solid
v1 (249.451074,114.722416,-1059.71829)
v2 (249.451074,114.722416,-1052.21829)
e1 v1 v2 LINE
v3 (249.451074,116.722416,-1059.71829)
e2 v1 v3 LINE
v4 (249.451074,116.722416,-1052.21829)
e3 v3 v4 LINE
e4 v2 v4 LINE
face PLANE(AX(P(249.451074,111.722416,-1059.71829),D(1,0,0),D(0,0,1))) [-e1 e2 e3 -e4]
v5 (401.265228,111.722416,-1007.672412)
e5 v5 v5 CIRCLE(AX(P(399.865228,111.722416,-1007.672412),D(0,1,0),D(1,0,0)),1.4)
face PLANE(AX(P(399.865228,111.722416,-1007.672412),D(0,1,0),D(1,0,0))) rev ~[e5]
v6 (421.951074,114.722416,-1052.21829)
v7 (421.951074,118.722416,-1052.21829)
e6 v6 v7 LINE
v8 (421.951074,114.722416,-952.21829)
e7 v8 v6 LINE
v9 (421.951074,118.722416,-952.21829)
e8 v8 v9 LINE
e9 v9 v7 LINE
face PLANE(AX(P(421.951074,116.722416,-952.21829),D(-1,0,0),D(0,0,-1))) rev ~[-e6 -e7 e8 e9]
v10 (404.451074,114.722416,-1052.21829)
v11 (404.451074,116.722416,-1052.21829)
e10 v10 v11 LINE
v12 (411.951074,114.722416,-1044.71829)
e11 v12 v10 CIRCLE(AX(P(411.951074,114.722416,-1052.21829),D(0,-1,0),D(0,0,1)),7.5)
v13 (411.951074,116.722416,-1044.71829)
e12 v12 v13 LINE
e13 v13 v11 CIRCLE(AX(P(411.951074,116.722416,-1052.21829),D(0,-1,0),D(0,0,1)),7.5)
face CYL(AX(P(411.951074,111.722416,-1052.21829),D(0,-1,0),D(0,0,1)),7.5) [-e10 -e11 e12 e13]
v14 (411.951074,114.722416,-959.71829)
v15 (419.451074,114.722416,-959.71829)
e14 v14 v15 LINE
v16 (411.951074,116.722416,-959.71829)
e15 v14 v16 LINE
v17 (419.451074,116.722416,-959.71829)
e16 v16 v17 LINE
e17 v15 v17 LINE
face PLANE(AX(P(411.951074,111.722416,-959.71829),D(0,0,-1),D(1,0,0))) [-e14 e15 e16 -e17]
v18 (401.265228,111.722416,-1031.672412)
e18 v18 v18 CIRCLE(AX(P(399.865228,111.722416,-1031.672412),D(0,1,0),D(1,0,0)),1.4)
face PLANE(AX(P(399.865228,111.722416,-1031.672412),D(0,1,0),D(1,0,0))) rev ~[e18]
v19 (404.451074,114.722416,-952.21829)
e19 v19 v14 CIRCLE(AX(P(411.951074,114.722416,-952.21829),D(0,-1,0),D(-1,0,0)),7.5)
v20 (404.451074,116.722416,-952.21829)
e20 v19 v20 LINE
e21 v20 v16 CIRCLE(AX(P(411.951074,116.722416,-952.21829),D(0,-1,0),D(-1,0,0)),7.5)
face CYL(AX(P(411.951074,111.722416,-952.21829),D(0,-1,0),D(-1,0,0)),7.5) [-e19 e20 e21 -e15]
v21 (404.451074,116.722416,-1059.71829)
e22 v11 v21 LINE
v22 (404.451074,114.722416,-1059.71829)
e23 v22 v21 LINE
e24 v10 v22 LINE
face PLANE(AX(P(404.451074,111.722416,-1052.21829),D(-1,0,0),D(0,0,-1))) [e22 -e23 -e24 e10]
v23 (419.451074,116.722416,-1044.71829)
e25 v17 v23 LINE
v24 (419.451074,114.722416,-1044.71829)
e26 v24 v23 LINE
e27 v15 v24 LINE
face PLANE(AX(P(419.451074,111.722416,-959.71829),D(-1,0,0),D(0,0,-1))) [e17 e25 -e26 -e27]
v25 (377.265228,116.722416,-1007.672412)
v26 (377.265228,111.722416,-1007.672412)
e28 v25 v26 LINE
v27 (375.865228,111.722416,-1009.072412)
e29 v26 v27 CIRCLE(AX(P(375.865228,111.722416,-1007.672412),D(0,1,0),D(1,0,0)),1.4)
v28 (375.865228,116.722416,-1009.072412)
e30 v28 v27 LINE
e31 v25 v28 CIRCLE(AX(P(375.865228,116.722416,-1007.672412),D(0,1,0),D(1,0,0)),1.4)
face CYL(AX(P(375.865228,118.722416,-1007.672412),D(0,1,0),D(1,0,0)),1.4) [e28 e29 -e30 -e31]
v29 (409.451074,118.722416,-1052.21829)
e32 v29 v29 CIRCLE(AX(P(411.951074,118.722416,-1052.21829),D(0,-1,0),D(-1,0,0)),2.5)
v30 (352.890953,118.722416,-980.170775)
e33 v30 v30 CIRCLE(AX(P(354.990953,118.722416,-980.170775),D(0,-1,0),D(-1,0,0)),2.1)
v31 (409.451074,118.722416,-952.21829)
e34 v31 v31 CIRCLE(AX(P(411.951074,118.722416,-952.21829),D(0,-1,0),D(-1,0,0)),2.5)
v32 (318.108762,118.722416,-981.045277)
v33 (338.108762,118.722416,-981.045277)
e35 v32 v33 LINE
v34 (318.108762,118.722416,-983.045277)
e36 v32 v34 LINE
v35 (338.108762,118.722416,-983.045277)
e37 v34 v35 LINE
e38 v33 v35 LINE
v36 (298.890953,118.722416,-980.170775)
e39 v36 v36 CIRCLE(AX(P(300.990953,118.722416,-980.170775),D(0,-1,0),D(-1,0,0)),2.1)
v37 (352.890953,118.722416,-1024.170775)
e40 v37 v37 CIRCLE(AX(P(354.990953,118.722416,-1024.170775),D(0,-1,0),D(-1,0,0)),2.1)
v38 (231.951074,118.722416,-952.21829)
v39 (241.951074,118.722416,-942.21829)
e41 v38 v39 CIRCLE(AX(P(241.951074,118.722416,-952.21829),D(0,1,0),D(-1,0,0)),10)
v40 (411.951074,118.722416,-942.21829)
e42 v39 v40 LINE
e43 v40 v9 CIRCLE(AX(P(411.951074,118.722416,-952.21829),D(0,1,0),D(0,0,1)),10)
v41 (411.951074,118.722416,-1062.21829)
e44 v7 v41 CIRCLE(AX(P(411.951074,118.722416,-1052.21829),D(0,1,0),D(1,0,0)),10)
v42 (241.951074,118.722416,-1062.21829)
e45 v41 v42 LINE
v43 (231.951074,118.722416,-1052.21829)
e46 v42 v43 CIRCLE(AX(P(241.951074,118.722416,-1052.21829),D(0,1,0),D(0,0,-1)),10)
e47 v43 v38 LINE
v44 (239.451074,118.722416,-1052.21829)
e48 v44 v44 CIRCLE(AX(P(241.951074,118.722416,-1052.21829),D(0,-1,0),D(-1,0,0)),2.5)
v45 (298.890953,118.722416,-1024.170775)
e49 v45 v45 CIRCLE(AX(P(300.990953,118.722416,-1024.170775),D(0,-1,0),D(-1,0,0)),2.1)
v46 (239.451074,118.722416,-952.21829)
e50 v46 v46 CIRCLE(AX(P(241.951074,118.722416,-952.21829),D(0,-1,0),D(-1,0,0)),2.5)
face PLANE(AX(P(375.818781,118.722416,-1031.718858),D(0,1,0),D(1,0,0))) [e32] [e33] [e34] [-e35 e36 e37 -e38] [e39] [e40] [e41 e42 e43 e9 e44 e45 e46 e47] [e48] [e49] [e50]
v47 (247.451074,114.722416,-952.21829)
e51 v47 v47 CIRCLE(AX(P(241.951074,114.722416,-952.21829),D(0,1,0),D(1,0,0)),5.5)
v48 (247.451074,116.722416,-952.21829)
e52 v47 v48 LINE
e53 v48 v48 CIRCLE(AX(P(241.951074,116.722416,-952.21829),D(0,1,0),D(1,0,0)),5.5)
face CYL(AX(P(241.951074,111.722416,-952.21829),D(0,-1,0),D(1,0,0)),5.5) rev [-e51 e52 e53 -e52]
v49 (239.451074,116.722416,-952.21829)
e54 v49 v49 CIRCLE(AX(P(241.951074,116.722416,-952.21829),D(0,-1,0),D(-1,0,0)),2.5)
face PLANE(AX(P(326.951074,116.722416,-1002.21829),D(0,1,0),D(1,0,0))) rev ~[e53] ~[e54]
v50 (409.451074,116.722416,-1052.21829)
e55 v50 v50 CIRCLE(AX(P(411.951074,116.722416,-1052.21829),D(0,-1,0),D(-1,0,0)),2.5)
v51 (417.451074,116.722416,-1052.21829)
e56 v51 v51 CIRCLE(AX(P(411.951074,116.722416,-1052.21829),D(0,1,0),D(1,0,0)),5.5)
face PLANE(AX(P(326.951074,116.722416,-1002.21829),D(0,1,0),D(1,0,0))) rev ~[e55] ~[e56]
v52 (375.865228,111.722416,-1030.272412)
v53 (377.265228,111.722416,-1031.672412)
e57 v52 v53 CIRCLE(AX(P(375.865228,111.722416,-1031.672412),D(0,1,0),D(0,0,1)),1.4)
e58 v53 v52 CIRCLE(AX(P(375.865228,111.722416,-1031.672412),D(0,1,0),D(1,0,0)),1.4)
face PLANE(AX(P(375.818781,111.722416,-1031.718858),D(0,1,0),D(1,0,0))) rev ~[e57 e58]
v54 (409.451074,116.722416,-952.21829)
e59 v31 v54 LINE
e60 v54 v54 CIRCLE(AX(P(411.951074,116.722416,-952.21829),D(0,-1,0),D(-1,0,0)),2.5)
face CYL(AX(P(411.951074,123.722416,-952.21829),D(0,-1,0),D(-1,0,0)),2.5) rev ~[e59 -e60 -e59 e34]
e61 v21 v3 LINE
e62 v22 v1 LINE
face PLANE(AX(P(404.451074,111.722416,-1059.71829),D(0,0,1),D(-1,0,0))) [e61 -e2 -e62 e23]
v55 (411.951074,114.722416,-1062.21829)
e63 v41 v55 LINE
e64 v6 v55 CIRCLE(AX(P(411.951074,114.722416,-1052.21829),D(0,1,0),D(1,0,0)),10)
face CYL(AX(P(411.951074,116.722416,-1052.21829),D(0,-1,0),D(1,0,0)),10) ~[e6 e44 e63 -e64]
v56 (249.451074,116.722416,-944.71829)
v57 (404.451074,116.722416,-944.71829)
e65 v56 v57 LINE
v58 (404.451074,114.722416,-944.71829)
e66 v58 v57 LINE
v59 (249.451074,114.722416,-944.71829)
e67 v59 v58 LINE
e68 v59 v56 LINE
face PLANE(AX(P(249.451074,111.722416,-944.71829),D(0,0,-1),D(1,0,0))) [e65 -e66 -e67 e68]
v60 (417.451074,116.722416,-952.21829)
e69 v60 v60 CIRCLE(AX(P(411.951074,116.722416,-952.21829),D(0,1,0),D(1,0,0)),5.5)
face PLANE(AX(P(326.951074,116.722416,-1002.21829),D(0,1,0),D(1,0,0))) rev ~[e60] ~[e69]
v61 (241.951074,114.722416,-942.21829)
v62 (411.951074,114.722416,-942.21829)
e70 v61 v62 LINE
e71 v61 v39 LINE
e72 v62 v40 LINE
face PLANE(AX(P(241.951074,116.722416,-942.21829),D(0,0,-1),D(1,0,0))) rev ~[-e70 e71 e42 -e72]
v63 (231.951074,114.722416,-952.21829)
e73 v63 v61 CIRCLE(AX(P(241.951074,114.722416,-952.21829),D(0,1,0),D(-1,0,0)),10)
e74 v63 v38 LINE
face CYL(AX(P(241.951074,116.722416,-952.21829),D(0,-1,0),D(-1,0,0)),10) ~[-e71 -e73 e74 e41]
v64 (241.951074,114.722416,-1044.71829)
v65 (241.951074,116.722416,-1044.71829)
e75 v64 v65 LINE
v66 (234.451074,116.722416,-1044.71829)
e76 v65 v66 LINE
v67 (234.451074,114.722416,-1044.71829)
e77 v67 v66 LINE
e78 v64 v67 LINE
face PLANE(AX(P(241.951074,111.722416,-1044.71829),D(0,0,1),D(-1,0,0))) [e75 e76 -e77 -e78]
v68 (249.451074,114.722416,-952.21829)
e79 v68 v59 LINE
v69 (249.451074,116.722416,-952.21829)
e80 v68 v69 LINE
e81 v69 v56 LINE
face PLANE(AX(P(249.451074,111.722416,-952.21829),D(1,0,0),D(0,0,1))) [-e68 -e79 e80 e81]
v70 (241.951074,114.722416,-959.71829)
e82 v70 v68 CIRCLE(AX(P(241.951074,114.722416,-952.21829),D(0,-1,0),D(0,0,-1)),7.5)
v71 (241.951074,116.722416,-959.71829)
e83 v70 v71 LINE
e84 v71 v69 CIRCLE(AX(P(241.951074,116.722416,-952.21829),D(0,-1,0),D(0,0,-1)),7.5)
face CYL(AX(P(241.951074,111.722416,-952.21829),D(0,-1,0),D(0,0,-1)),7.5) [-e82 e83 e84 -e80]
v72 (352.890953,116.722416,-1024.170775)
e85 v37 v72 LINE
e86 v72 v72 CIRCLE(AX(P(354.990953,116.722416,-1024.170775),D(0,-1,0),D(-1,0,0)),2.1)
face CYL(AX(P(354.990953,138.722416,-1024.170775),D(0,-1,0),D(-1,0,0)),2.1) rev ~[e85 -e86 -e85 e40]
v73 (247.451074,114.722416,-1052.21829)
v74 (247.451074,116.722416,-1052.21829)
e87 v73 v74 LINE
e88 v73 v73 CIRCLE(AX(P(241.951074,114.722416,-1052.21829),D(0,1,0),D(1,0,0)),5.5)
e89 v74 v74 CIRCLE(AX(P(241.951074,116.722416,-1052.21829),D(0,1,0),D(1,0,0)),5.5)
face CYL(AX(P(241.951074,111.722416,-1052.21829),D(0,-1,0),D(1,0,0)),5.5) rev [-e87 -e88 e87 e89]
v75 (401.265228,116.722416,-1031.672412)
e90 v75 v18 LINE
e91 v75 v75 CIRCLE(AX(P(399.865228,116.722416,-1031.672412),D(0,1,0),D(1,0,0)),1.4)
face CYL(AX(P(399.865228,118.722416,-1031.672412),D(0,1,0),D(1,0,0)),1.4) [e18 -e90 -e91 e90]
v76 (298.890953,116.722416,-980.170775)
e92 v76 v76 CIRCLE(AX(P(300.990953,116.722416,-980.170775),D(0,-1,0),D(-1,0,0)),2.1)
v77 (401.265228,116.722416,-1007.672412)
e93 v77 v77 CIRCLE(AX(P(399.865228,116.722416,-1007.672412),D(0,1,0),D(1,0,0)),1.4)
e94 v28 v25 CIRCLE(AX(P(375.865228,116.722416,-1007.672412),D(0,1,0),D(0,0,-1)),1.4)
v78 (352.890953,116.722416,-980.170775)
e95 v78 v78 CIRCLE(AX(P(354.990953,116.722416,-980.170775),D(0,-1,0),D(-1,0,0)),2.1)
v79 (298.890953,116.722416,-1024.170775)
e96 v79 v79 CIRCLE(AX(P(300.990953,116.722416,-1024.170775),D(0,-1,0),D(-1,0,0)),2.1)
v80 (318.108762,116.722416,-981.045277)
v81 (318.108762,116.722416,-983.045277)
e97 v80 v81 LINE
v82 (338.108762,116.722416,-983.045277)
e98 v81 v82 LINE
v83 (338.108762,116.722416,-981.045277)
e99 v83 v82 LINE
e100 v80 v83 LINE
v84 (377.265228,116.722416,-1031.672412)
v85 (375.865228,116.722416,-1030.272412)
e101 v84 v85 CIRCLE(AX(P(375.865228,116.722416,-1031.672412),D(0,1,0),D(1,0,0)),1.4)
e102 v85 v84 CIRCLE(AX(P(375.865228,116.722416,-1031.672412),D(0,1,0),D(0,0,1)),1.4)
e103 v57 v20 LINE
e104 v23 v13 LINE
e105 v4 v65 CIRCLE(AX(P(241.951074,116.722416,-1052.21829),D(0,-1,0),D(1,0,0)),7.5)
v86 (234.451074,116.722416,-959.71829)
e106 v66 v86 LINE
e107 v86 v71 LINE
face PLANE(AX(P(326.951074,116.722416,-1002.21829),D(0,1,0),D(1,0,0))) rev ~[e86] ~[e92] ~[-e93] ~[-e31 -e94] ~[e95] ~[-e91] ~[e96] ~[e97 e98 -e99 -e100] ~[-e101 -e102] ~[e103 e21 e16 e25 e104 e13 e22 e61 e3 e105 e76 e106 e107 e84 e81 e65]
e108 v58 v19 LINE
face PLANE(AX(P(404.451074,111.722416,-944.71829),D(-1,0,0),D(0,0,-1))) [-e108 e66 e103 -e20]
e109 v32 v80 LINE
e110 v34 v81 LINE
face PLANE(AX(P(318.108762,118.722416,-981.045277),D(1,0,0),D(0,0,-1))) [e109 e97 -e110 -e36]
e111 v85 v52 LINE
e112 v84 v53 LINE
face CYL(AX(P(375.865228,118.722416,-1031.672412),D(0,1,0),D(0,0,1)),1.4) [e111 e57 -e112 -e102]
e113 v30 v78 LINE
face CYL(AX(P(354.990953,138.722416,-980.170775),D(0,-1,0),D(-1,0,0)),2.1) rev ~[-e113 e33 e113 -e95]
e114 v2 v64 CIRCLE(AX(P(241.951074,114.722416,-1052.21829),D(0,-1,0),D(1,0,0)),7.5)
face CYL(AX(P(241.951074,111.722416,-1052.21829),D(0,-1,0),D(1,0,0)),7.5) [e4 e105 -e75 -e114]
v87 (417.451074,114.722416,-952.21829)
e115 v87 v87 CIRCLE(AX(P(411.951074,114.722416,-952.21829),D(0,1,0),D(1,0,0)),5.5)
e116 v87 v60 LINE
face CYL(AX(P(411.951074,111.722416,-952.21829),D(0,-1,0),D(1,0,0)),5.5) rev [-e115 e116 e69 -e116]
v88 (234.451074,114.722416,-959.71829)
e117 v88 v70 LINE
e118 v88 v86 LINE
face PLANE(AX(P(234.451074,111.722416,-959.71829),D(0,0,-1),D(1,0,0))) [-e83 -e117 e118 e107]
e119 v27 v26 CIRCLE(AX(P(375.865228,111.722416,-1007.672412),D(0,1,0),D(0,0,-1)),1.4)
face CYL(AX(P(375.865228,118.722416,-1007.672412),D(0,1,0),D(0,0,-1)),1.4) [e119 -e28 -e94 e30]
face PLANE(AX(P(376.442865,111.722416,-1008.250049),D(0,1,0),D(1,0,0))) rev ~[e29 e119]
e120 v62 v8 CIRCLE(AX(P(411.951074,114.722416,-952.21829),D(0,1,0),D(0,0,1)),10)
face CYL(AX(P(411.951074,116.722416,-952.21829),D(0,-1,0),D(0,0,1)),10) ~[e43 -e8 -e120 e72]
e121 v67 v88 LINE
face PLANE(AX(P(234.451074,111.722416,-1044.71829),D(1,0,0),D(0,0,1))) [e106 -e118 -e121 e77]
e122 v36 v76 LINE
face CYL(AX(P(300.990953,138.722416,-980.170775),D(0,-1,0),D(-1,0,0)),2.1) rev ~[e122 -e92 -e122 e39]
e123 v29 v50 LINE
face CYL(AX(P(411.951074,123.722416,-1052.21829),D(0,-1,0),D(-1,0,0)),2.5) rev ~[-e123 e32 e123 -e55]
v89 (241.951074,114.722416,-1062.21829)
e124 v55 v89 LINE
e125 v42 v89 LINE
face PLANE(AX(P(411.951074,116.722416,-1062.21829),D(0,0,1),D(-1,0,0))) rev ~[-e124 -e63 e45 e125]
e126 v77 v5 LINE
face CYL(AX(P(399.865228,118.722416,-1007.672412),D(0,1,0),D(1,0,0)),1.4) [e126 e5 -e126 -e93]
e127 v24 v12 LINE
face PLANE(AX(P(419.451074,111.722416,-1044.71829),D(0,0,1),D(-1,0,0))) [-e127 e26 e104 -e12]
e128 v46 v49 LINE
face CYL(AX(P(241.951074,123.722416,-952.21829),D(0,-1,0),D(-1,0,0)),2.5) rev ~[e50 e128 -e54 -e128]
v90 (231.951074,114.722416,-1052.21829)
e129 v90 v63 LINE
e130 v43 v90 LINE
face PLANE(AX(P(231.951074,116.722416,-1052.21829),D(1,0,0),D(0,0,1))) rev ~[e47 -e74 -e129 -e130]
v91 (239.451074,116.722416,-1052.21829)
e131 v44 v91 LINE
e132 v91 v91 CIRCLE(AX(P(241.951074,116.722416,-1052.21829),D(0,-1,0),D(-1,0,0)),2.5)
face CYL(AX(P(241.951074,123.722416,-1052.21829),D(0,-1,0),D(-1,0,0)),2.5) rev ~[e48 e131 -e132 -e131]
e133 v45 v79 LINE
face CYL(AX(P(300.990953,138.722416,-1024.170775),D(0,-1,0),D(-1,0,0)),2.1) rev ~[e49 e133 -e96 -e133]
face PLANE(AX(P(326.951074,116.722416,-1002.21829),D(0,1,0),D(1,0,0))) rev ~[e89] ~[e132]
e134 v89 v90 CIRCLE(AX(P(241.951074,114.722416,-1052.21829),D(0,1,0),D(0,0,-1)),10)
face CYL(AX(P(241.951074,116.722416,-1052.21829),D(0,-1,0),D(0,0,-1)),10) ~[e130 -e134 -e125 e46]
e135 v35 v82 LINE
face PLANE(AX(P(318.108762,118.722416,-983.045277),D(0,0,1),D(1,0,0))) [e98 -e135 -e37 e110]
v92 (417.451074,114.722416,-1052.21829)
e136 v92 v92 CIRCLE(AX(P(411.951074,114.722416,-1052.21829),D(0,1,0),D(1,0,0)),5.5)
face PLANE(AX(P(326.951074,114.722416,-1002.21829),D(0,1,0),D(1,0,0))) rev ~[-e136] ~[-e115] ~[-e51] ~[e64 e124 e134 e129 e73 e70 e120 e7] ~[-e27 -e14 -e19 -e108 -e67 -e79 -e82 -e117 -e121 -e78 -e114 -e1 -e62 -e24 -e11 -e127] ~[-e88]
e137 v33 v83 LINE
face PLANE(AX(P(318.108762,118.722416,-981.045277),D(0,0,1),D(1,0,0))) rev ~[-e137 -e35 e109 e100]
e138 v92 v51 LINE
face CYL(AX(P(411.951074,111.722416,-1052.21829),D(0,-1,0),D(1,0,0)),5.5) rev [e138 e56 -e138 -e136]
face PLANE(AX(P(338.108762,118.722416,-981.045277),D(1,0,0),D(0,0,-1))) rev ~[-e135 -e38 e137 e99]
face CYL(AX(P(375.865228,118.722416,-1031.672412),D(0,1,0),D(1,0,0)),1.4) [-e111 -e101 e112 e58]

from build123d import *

# Parameters (mm, degrees)
SKETCH1_R                      = 5.5
BOSS_EXTRUDE1_DEPTH            = 5
BOSS_EXTRUDE2_DEPTH            = 2
SKETCH4_R                      = 1.4
BOSS_EXTRUDE3_DEPTH            = 7
SKETCH12_W                     = 20
SKETCH12_H                     = 2
CUT_EXTRUDE1_DEPTH             = 10
F_4_2_4_2_DIAMETER_HOLE1_D     = 4.2
F_4_2_4_2_DIAMETER_HOLE1_DEPTH = 20
F_4_2_4_2_DIAMETER_HOLE1_TIP   = 1.2618073
F_5_0_5_DIAMETER_HOLE1_D       = 5
F_5_0_5_DIAMETER_HOLE1_DEPTH   = 5
F_5_0_5_DIAMETER_HOLE1_TIP     = 1.502151548
SKETCH1_3_R                    = 5.5
CUT_EXTRUDE2_DEPTH             = 3


with BuildPart() as part:
    # Sketch1 → Boss-Extrude1 (new body)
    with BuildSketch(Plane(origin=(0, 111.722415865, 0), x_dir=(1, 0, 0), z_dir=(0, 1, 0))):
        with BuildLine():
            Line((241.95107426, 942.218289838), (411.95107426, 942.218289838))
            ThreePointArc((411.95107426, 942.218289838), (419.022142072, 945.147222026), (421.95107426, 952.218289838))
            Line((421.95107426, 952.218289838), (421.95107426, 1052.218289838))
            ThreePointArc((421.95107426, 1052.218289838), (419.022142072, 1059.28935765), (411.95107426, 1062.218289838))
            Line((411.95107426, 1062.218289838), (241.95107426, 1062.218289838))
            ThreePointArc((241.95107426, 1062.218289838), (234.880006448, 1059.28935765), (231.95107426, 1052.218289838))
            Line((231.95107426, 1052.218289838), (231.95107426, 952.218289838))
            ThreePointArc((231.95107426, 952.218289838), (234.880006448, 945.147222026), (241.95107426, 942.218289838))
        make_face()
        with Locations((241.95107426, 952.218289838)):
            Circle(SKETCH1_R, mode=Mode.SUBTRACT)
        with Locations((411.95107426, 952.218289838)):
            Circle(SKETCH1_R, mode=Mode.SUBTRACT)
        with Locations((411.95107426, 1052.218289838)):
            Circle(SKETCH1_R, mode=Mode.SUBTRACT)
        with Locations((241.95107426, 1052.218289838)):
            Circle(SKETCH1_R, mode=Mode.SUBTRACT)
        with BuildLine():
            Line((249.45107426, 952.218289838), (249.45107426, 944.718289838))
            Line((249.45107426, 944.718289838), (404.45107426, 944.718289838))
            Line((404.45107426, 944.718289838), (404.45107426, 952.218289838))
            ThreePointArc((404.45107426, 952.218289838), (406.647773401, 957.521590697), (411.95107426, 959.718289838))
            Line((411.95107426, 959.718289838), (419.45107426, 959.718289838))
            Line((419.45107426, 959.718289838), (419.45107426, 1044.718289838))
            Line((419.45107426, 1044.718289838), (411.95107426, 1044.718289838))
            ThreePointArc((411.95107426, 1044.718289838), (406.647773401, 1046.914988979), (404.45107426, 1052.218289838))
            Line((404.45107426, 1052.218289838), (404.45107426, 1059.718289838))
            Line((404.45107426, 1059.718289838), (249.45107426, 1059.718289838))
            Line((249.45107426, 1059.718289838), (249.45107426, 1052.218289838))
            ThreePointArc((249.45107426, 1052.218289838), (247.254375119, 1046.914988979), (241.95107426, 1044.718289838))
            Line((241.95107426, 1044.718289838), (234.45107426, 1044.718289838))
            Line((234.45107426, 1044.718289838), (234.45107426, 959.718289838))
            Line((234.45107426, 959.718289838), (241.95107426, 959.718289838))
            ThreePointArc((241.95107426, 959.718289838), (247.254375119, 957.521590697), (249.45107426, 952.218289838))
        make_face(mode=Mode.SUBTRACT)
    extrude(amount=BOSS_EXTRUDE1_DEPTH)

    # Sketch2 → Boss-Extrude2 (add)
    with BuildSketch(Plane(origin=(0, 116.722415865, 0), x_dir=(1, 0, 0), z_dir=(0, 1, 0))):
        with BuildLine():
            Line((231.95107426, 1052.218289838), (231.95107426, 952.218289838))
            ThreePointArc((231.95107426, 952.218289838), (234.880006448, 945.147222026), (241.95107426, 942.218289838))
            Line((241.95107426, 942.218289838), (411.95107426, 942.218289838))
            ThreePointArc((411.95107426, 942.218289838), (419.022142072, 945.147222026), (421.95107426, 952.218289838))
            Line((421.95107426, 952.218289838), (421.95107426, 1052.218289838))
            ThreePointArc((421.95107426, 1052.218289838), (419.022142072, 1059.28935765), (411.95107426, 1062.218289838))
            Line((411.95107426, 1062.218289838), (241.95107426, 1062.218289838))
            ThreePointArc((241.95107426, 1062.218289838), (234.880006448, 1059.28935765), (231.95107426, 1052.218289838))
        make_face()
    extrude(amount=BOSS_EXTRUDE2_DEPTH)

    # Sketch4 → Boss-Extrude3 (add)
    with BuildSketch(Plane(origin=(0, 118.722415865, 0), x_dir=(1, 0, 0), z_dir=(0, 1, 0))):
        with BuildLine():
            Line((375.86522753, 1030.272411662), (375.86522753, 1031.672411662))
            Line((375.86522753, 1031.672411662), (377.26522753, 1031.672411662))
            ThreePointArc((377.26522753, 1031.672411662), (374.875278036, 1032.662361156), (375.86522753, 1030.272411662))
        make_face()
        with BuildLine():
            Line((377.26522753, 1031.672411662), (375.86522753, 1031.672411662))
            Line((375.86522753, 1031.672411662), (375.86522753, 1030.272411662))
            ThreePointArc((375.86522753, 1030.272411662), (376.855177023, 1030.682462168), (377.26522753, 1031.672411662))
        make_face()
        with BuildLine():
            ThreePointArc((377.26522753, 1007.672411662), (376.855177023, 1008.662361156), (375.86522753, 1009.072411662))
            Line((375.86522753, 1009.072411662), (375.86522753, 1007.672411662))
            Line((375.86522753, 1007.672411662), (377.26522753, 1007.672411662))
        make_face()
        with BuildLine():
            Line((375.86522753, 1007.672411662), (375.86522753, 1009.072411662))
            ThreePointArc((375.86522753, 1009.072411662), (374.875278036, 1006.682462168), (377.26522753, 1007.672411662))
            Line((377.26522753, 1007.672411662), (375.86522753, 1007.672411662))
        make_face()
        with Locations((399.86522753, 1031.672411662)):
            Circle(SKETCH4_R)
        with Locations((399.86522753, 1007.672411662)):
            Circle(SKETCH4_R)
    extrude(amount=-BOSS_EXTRUDE3_DEPTH)

    # Sketch12 → Cut-Extrude1 (cut)
    with BuildSketch(Plane(origin=(0, 118.722415865, 0), x_dir=(1, 0, 0), z_dir=(0, 1, 0))):
        with Locations((328.108762335, 982.045276567)):
            Rectangle(SKETCH12_W, SKETCH12_H)
    extrude(amount=-CUT_EXTRUDE1_DEPTH, mode=Mode.SUBTRACT)

    # Ø4.2 (4.2) Diameter Hole1
    with Locations(Plane(origin=(0, 118.722415865, 0), x_dir=(1, 0, 0), z_dir=(0, 1, 0))):
        with Locations((300.990952506, 1024.17077451), (354.990952506, 1024.17077451), (354.990952506, 980.17077451), (300.990952506, 980.17077451)):
            Hole(F_4_2_4_2_DIAMETER_HOLE1_D / 2, depth=F_4_2_4_2_DIAMETER_HOLE1_DEPTH)
            with Locations((0, 0, -(F_4_2_4_2_DIAMETER_HOLE1_DEPTH + F_4_2_4_2_DIAMETER_HOLE1_TIP / 2))):  # 118° drill point
                Cone(0, F_4_2_4_2_DIAMETER_HOLE1_D / 2, F_4_2_4_2_DIAMETER_HOLE1_TIP, mode=Mode.SUBTRACT)

    # Ø5.0 (5) Diameter Hole1
    with Locations(Plane(origin=(0, 118.722415865, 0), x_dir=(1, 0, 0), z_dir=(0, 1, 0))):
        with Locations((241.95107426, 1052.218289838), (411.95107426, 1052.218289838), (411.95107426, 952.218289838), (241.95107426, 952.218289838)):
            Hole(F_5_0_5_DIAMETER_HOLE1_D / 2, depth=F_5_0_5_DIAMETER_HOLE1_DEPTH)
            with Locations((0, 0, -(F_5_0_5_DIAMETER_HOLE1_DEPTH + F_5_0_5_DIAMETER_HOLE1_TIP / 2))):  # 118° drill point
                Cone(0, F_5_0_5_DIAMETER_HOLE1_D / 2, F_5_0_5_DIAMETER_HOLE1_TIP, mode=Mode.SUBTRACT)

    # Sketch1<3> → Cut-Extrude2 (cut)
    with BuildSketch(Plane(origin=(0, 111.722415865, 0), x_dir=(1, 0, 0), z_dir=(0, 1, 0))):
        with BuildLine():
            Line((241.95107426, 942.218289838), (411.95107426, 942.218289838))
            ThreePointArc((411.95107426, 942.218289838), (419.022142072, 945.147222026), (421.95107426, 952.218289838))
            Line((421.95107426, 952.218289838), (421.95107426, 1052.218289838))
            ThreePointArc((421.95107426, 1052.218289838), (419.022142072, 1059.28935765), (411.95107426, 1062.218289838))
            Line((411.95107426, 1062.218289838), (241.95107426, 1062.218289838))
            ThreePointArc((241.95107426, 1062.218289838), (234.880006448, 1059.28935765), (231.95107426, 1052.218289838))
            Line((231.95107426, 1052.218289838), (231.95107426, 952.218289838))
            ThreePointArc((231.95107426, 952.218289838), (234.880006448, 945.147222026), (241.95107426, 942.218289838))
        make_face()
        with Locations((241.95107426, 952.218289838)):
            Circle(SKETCH1_3_R, mode=Mode.SUBTRACT)
        with Locations((411.95107426, 952.218289838)):
            Circle(SKETCH1_3_R, mode=Mode.SUBTRACT)
        with Locations((411.95107426, 1052.218289838)):
            Circle(SKETCH1_3_R, mode=Mode.SUBTRACT)
        with Locations((241.95107426, 1052.218289838)):
            Circle(SKETCH1_3_R, mode=Mode.SUBTRACT)
        with BuildLine():
            Line((249.45107426, 952.218289838), (249.45107426, 944.718289838))
            Line((249.45107426, 944.718289838), (404.45107426, 944.718289838))
            Line((404.45107426, 944.718289838), (404.45107426, 952.218289838))
            ThreePointArc((404.45107426, 952.218289838), (406.647773401, 957.521590697), (411.95107426, 959.718289838))
            Line((411.95107426, 959.718289838), (419.45107426, 959.718289838))
            Line((419.45107426, 959.718289838), (419.45107426, 1044.718289838))
            Line((419.45107426, 1044.718289838), (411.95107426, 1044.718289838))
            ThreePointArc((411.95107426, 1044.718289838), (406.647773401, 1046.914988979), (404.45107426, 1052.218289838))
            Line((404.45107426, 1052.218289838), (404.45107426, 1059.718289838))
            Line((404.45107426, 1059.718289838), (249.45107426, 1059.718289838))
            Line((249.45107426, 1059.718289838), (249.45107426, 1052.218289838))
            ThreePointArc((249.45107426, 1052.218289838), (247.254375119, 1046.914988979), (241.95107426, 1044.718289838))
            Line((241.95107426, 1044.718289838), (234.45107426, 1044.718289838))
            Line((234.45107426, 1044.718289838), (234.45107426, 959.718289838))
            Line((234.45107426, 959.718289838), (241.95107426, 959.718289838))
            ThreePointArc((241.95107426, 959.718289838), (247.254375119, 957.521590697), (249.45107426, 952.218289838))
        make_face(mode=Mode.SUBTRACT)
    extrude(amount=CUT_EXTRUDE2_DEPTH, mode=Mode.SUBTRACT)


solid = part.part
